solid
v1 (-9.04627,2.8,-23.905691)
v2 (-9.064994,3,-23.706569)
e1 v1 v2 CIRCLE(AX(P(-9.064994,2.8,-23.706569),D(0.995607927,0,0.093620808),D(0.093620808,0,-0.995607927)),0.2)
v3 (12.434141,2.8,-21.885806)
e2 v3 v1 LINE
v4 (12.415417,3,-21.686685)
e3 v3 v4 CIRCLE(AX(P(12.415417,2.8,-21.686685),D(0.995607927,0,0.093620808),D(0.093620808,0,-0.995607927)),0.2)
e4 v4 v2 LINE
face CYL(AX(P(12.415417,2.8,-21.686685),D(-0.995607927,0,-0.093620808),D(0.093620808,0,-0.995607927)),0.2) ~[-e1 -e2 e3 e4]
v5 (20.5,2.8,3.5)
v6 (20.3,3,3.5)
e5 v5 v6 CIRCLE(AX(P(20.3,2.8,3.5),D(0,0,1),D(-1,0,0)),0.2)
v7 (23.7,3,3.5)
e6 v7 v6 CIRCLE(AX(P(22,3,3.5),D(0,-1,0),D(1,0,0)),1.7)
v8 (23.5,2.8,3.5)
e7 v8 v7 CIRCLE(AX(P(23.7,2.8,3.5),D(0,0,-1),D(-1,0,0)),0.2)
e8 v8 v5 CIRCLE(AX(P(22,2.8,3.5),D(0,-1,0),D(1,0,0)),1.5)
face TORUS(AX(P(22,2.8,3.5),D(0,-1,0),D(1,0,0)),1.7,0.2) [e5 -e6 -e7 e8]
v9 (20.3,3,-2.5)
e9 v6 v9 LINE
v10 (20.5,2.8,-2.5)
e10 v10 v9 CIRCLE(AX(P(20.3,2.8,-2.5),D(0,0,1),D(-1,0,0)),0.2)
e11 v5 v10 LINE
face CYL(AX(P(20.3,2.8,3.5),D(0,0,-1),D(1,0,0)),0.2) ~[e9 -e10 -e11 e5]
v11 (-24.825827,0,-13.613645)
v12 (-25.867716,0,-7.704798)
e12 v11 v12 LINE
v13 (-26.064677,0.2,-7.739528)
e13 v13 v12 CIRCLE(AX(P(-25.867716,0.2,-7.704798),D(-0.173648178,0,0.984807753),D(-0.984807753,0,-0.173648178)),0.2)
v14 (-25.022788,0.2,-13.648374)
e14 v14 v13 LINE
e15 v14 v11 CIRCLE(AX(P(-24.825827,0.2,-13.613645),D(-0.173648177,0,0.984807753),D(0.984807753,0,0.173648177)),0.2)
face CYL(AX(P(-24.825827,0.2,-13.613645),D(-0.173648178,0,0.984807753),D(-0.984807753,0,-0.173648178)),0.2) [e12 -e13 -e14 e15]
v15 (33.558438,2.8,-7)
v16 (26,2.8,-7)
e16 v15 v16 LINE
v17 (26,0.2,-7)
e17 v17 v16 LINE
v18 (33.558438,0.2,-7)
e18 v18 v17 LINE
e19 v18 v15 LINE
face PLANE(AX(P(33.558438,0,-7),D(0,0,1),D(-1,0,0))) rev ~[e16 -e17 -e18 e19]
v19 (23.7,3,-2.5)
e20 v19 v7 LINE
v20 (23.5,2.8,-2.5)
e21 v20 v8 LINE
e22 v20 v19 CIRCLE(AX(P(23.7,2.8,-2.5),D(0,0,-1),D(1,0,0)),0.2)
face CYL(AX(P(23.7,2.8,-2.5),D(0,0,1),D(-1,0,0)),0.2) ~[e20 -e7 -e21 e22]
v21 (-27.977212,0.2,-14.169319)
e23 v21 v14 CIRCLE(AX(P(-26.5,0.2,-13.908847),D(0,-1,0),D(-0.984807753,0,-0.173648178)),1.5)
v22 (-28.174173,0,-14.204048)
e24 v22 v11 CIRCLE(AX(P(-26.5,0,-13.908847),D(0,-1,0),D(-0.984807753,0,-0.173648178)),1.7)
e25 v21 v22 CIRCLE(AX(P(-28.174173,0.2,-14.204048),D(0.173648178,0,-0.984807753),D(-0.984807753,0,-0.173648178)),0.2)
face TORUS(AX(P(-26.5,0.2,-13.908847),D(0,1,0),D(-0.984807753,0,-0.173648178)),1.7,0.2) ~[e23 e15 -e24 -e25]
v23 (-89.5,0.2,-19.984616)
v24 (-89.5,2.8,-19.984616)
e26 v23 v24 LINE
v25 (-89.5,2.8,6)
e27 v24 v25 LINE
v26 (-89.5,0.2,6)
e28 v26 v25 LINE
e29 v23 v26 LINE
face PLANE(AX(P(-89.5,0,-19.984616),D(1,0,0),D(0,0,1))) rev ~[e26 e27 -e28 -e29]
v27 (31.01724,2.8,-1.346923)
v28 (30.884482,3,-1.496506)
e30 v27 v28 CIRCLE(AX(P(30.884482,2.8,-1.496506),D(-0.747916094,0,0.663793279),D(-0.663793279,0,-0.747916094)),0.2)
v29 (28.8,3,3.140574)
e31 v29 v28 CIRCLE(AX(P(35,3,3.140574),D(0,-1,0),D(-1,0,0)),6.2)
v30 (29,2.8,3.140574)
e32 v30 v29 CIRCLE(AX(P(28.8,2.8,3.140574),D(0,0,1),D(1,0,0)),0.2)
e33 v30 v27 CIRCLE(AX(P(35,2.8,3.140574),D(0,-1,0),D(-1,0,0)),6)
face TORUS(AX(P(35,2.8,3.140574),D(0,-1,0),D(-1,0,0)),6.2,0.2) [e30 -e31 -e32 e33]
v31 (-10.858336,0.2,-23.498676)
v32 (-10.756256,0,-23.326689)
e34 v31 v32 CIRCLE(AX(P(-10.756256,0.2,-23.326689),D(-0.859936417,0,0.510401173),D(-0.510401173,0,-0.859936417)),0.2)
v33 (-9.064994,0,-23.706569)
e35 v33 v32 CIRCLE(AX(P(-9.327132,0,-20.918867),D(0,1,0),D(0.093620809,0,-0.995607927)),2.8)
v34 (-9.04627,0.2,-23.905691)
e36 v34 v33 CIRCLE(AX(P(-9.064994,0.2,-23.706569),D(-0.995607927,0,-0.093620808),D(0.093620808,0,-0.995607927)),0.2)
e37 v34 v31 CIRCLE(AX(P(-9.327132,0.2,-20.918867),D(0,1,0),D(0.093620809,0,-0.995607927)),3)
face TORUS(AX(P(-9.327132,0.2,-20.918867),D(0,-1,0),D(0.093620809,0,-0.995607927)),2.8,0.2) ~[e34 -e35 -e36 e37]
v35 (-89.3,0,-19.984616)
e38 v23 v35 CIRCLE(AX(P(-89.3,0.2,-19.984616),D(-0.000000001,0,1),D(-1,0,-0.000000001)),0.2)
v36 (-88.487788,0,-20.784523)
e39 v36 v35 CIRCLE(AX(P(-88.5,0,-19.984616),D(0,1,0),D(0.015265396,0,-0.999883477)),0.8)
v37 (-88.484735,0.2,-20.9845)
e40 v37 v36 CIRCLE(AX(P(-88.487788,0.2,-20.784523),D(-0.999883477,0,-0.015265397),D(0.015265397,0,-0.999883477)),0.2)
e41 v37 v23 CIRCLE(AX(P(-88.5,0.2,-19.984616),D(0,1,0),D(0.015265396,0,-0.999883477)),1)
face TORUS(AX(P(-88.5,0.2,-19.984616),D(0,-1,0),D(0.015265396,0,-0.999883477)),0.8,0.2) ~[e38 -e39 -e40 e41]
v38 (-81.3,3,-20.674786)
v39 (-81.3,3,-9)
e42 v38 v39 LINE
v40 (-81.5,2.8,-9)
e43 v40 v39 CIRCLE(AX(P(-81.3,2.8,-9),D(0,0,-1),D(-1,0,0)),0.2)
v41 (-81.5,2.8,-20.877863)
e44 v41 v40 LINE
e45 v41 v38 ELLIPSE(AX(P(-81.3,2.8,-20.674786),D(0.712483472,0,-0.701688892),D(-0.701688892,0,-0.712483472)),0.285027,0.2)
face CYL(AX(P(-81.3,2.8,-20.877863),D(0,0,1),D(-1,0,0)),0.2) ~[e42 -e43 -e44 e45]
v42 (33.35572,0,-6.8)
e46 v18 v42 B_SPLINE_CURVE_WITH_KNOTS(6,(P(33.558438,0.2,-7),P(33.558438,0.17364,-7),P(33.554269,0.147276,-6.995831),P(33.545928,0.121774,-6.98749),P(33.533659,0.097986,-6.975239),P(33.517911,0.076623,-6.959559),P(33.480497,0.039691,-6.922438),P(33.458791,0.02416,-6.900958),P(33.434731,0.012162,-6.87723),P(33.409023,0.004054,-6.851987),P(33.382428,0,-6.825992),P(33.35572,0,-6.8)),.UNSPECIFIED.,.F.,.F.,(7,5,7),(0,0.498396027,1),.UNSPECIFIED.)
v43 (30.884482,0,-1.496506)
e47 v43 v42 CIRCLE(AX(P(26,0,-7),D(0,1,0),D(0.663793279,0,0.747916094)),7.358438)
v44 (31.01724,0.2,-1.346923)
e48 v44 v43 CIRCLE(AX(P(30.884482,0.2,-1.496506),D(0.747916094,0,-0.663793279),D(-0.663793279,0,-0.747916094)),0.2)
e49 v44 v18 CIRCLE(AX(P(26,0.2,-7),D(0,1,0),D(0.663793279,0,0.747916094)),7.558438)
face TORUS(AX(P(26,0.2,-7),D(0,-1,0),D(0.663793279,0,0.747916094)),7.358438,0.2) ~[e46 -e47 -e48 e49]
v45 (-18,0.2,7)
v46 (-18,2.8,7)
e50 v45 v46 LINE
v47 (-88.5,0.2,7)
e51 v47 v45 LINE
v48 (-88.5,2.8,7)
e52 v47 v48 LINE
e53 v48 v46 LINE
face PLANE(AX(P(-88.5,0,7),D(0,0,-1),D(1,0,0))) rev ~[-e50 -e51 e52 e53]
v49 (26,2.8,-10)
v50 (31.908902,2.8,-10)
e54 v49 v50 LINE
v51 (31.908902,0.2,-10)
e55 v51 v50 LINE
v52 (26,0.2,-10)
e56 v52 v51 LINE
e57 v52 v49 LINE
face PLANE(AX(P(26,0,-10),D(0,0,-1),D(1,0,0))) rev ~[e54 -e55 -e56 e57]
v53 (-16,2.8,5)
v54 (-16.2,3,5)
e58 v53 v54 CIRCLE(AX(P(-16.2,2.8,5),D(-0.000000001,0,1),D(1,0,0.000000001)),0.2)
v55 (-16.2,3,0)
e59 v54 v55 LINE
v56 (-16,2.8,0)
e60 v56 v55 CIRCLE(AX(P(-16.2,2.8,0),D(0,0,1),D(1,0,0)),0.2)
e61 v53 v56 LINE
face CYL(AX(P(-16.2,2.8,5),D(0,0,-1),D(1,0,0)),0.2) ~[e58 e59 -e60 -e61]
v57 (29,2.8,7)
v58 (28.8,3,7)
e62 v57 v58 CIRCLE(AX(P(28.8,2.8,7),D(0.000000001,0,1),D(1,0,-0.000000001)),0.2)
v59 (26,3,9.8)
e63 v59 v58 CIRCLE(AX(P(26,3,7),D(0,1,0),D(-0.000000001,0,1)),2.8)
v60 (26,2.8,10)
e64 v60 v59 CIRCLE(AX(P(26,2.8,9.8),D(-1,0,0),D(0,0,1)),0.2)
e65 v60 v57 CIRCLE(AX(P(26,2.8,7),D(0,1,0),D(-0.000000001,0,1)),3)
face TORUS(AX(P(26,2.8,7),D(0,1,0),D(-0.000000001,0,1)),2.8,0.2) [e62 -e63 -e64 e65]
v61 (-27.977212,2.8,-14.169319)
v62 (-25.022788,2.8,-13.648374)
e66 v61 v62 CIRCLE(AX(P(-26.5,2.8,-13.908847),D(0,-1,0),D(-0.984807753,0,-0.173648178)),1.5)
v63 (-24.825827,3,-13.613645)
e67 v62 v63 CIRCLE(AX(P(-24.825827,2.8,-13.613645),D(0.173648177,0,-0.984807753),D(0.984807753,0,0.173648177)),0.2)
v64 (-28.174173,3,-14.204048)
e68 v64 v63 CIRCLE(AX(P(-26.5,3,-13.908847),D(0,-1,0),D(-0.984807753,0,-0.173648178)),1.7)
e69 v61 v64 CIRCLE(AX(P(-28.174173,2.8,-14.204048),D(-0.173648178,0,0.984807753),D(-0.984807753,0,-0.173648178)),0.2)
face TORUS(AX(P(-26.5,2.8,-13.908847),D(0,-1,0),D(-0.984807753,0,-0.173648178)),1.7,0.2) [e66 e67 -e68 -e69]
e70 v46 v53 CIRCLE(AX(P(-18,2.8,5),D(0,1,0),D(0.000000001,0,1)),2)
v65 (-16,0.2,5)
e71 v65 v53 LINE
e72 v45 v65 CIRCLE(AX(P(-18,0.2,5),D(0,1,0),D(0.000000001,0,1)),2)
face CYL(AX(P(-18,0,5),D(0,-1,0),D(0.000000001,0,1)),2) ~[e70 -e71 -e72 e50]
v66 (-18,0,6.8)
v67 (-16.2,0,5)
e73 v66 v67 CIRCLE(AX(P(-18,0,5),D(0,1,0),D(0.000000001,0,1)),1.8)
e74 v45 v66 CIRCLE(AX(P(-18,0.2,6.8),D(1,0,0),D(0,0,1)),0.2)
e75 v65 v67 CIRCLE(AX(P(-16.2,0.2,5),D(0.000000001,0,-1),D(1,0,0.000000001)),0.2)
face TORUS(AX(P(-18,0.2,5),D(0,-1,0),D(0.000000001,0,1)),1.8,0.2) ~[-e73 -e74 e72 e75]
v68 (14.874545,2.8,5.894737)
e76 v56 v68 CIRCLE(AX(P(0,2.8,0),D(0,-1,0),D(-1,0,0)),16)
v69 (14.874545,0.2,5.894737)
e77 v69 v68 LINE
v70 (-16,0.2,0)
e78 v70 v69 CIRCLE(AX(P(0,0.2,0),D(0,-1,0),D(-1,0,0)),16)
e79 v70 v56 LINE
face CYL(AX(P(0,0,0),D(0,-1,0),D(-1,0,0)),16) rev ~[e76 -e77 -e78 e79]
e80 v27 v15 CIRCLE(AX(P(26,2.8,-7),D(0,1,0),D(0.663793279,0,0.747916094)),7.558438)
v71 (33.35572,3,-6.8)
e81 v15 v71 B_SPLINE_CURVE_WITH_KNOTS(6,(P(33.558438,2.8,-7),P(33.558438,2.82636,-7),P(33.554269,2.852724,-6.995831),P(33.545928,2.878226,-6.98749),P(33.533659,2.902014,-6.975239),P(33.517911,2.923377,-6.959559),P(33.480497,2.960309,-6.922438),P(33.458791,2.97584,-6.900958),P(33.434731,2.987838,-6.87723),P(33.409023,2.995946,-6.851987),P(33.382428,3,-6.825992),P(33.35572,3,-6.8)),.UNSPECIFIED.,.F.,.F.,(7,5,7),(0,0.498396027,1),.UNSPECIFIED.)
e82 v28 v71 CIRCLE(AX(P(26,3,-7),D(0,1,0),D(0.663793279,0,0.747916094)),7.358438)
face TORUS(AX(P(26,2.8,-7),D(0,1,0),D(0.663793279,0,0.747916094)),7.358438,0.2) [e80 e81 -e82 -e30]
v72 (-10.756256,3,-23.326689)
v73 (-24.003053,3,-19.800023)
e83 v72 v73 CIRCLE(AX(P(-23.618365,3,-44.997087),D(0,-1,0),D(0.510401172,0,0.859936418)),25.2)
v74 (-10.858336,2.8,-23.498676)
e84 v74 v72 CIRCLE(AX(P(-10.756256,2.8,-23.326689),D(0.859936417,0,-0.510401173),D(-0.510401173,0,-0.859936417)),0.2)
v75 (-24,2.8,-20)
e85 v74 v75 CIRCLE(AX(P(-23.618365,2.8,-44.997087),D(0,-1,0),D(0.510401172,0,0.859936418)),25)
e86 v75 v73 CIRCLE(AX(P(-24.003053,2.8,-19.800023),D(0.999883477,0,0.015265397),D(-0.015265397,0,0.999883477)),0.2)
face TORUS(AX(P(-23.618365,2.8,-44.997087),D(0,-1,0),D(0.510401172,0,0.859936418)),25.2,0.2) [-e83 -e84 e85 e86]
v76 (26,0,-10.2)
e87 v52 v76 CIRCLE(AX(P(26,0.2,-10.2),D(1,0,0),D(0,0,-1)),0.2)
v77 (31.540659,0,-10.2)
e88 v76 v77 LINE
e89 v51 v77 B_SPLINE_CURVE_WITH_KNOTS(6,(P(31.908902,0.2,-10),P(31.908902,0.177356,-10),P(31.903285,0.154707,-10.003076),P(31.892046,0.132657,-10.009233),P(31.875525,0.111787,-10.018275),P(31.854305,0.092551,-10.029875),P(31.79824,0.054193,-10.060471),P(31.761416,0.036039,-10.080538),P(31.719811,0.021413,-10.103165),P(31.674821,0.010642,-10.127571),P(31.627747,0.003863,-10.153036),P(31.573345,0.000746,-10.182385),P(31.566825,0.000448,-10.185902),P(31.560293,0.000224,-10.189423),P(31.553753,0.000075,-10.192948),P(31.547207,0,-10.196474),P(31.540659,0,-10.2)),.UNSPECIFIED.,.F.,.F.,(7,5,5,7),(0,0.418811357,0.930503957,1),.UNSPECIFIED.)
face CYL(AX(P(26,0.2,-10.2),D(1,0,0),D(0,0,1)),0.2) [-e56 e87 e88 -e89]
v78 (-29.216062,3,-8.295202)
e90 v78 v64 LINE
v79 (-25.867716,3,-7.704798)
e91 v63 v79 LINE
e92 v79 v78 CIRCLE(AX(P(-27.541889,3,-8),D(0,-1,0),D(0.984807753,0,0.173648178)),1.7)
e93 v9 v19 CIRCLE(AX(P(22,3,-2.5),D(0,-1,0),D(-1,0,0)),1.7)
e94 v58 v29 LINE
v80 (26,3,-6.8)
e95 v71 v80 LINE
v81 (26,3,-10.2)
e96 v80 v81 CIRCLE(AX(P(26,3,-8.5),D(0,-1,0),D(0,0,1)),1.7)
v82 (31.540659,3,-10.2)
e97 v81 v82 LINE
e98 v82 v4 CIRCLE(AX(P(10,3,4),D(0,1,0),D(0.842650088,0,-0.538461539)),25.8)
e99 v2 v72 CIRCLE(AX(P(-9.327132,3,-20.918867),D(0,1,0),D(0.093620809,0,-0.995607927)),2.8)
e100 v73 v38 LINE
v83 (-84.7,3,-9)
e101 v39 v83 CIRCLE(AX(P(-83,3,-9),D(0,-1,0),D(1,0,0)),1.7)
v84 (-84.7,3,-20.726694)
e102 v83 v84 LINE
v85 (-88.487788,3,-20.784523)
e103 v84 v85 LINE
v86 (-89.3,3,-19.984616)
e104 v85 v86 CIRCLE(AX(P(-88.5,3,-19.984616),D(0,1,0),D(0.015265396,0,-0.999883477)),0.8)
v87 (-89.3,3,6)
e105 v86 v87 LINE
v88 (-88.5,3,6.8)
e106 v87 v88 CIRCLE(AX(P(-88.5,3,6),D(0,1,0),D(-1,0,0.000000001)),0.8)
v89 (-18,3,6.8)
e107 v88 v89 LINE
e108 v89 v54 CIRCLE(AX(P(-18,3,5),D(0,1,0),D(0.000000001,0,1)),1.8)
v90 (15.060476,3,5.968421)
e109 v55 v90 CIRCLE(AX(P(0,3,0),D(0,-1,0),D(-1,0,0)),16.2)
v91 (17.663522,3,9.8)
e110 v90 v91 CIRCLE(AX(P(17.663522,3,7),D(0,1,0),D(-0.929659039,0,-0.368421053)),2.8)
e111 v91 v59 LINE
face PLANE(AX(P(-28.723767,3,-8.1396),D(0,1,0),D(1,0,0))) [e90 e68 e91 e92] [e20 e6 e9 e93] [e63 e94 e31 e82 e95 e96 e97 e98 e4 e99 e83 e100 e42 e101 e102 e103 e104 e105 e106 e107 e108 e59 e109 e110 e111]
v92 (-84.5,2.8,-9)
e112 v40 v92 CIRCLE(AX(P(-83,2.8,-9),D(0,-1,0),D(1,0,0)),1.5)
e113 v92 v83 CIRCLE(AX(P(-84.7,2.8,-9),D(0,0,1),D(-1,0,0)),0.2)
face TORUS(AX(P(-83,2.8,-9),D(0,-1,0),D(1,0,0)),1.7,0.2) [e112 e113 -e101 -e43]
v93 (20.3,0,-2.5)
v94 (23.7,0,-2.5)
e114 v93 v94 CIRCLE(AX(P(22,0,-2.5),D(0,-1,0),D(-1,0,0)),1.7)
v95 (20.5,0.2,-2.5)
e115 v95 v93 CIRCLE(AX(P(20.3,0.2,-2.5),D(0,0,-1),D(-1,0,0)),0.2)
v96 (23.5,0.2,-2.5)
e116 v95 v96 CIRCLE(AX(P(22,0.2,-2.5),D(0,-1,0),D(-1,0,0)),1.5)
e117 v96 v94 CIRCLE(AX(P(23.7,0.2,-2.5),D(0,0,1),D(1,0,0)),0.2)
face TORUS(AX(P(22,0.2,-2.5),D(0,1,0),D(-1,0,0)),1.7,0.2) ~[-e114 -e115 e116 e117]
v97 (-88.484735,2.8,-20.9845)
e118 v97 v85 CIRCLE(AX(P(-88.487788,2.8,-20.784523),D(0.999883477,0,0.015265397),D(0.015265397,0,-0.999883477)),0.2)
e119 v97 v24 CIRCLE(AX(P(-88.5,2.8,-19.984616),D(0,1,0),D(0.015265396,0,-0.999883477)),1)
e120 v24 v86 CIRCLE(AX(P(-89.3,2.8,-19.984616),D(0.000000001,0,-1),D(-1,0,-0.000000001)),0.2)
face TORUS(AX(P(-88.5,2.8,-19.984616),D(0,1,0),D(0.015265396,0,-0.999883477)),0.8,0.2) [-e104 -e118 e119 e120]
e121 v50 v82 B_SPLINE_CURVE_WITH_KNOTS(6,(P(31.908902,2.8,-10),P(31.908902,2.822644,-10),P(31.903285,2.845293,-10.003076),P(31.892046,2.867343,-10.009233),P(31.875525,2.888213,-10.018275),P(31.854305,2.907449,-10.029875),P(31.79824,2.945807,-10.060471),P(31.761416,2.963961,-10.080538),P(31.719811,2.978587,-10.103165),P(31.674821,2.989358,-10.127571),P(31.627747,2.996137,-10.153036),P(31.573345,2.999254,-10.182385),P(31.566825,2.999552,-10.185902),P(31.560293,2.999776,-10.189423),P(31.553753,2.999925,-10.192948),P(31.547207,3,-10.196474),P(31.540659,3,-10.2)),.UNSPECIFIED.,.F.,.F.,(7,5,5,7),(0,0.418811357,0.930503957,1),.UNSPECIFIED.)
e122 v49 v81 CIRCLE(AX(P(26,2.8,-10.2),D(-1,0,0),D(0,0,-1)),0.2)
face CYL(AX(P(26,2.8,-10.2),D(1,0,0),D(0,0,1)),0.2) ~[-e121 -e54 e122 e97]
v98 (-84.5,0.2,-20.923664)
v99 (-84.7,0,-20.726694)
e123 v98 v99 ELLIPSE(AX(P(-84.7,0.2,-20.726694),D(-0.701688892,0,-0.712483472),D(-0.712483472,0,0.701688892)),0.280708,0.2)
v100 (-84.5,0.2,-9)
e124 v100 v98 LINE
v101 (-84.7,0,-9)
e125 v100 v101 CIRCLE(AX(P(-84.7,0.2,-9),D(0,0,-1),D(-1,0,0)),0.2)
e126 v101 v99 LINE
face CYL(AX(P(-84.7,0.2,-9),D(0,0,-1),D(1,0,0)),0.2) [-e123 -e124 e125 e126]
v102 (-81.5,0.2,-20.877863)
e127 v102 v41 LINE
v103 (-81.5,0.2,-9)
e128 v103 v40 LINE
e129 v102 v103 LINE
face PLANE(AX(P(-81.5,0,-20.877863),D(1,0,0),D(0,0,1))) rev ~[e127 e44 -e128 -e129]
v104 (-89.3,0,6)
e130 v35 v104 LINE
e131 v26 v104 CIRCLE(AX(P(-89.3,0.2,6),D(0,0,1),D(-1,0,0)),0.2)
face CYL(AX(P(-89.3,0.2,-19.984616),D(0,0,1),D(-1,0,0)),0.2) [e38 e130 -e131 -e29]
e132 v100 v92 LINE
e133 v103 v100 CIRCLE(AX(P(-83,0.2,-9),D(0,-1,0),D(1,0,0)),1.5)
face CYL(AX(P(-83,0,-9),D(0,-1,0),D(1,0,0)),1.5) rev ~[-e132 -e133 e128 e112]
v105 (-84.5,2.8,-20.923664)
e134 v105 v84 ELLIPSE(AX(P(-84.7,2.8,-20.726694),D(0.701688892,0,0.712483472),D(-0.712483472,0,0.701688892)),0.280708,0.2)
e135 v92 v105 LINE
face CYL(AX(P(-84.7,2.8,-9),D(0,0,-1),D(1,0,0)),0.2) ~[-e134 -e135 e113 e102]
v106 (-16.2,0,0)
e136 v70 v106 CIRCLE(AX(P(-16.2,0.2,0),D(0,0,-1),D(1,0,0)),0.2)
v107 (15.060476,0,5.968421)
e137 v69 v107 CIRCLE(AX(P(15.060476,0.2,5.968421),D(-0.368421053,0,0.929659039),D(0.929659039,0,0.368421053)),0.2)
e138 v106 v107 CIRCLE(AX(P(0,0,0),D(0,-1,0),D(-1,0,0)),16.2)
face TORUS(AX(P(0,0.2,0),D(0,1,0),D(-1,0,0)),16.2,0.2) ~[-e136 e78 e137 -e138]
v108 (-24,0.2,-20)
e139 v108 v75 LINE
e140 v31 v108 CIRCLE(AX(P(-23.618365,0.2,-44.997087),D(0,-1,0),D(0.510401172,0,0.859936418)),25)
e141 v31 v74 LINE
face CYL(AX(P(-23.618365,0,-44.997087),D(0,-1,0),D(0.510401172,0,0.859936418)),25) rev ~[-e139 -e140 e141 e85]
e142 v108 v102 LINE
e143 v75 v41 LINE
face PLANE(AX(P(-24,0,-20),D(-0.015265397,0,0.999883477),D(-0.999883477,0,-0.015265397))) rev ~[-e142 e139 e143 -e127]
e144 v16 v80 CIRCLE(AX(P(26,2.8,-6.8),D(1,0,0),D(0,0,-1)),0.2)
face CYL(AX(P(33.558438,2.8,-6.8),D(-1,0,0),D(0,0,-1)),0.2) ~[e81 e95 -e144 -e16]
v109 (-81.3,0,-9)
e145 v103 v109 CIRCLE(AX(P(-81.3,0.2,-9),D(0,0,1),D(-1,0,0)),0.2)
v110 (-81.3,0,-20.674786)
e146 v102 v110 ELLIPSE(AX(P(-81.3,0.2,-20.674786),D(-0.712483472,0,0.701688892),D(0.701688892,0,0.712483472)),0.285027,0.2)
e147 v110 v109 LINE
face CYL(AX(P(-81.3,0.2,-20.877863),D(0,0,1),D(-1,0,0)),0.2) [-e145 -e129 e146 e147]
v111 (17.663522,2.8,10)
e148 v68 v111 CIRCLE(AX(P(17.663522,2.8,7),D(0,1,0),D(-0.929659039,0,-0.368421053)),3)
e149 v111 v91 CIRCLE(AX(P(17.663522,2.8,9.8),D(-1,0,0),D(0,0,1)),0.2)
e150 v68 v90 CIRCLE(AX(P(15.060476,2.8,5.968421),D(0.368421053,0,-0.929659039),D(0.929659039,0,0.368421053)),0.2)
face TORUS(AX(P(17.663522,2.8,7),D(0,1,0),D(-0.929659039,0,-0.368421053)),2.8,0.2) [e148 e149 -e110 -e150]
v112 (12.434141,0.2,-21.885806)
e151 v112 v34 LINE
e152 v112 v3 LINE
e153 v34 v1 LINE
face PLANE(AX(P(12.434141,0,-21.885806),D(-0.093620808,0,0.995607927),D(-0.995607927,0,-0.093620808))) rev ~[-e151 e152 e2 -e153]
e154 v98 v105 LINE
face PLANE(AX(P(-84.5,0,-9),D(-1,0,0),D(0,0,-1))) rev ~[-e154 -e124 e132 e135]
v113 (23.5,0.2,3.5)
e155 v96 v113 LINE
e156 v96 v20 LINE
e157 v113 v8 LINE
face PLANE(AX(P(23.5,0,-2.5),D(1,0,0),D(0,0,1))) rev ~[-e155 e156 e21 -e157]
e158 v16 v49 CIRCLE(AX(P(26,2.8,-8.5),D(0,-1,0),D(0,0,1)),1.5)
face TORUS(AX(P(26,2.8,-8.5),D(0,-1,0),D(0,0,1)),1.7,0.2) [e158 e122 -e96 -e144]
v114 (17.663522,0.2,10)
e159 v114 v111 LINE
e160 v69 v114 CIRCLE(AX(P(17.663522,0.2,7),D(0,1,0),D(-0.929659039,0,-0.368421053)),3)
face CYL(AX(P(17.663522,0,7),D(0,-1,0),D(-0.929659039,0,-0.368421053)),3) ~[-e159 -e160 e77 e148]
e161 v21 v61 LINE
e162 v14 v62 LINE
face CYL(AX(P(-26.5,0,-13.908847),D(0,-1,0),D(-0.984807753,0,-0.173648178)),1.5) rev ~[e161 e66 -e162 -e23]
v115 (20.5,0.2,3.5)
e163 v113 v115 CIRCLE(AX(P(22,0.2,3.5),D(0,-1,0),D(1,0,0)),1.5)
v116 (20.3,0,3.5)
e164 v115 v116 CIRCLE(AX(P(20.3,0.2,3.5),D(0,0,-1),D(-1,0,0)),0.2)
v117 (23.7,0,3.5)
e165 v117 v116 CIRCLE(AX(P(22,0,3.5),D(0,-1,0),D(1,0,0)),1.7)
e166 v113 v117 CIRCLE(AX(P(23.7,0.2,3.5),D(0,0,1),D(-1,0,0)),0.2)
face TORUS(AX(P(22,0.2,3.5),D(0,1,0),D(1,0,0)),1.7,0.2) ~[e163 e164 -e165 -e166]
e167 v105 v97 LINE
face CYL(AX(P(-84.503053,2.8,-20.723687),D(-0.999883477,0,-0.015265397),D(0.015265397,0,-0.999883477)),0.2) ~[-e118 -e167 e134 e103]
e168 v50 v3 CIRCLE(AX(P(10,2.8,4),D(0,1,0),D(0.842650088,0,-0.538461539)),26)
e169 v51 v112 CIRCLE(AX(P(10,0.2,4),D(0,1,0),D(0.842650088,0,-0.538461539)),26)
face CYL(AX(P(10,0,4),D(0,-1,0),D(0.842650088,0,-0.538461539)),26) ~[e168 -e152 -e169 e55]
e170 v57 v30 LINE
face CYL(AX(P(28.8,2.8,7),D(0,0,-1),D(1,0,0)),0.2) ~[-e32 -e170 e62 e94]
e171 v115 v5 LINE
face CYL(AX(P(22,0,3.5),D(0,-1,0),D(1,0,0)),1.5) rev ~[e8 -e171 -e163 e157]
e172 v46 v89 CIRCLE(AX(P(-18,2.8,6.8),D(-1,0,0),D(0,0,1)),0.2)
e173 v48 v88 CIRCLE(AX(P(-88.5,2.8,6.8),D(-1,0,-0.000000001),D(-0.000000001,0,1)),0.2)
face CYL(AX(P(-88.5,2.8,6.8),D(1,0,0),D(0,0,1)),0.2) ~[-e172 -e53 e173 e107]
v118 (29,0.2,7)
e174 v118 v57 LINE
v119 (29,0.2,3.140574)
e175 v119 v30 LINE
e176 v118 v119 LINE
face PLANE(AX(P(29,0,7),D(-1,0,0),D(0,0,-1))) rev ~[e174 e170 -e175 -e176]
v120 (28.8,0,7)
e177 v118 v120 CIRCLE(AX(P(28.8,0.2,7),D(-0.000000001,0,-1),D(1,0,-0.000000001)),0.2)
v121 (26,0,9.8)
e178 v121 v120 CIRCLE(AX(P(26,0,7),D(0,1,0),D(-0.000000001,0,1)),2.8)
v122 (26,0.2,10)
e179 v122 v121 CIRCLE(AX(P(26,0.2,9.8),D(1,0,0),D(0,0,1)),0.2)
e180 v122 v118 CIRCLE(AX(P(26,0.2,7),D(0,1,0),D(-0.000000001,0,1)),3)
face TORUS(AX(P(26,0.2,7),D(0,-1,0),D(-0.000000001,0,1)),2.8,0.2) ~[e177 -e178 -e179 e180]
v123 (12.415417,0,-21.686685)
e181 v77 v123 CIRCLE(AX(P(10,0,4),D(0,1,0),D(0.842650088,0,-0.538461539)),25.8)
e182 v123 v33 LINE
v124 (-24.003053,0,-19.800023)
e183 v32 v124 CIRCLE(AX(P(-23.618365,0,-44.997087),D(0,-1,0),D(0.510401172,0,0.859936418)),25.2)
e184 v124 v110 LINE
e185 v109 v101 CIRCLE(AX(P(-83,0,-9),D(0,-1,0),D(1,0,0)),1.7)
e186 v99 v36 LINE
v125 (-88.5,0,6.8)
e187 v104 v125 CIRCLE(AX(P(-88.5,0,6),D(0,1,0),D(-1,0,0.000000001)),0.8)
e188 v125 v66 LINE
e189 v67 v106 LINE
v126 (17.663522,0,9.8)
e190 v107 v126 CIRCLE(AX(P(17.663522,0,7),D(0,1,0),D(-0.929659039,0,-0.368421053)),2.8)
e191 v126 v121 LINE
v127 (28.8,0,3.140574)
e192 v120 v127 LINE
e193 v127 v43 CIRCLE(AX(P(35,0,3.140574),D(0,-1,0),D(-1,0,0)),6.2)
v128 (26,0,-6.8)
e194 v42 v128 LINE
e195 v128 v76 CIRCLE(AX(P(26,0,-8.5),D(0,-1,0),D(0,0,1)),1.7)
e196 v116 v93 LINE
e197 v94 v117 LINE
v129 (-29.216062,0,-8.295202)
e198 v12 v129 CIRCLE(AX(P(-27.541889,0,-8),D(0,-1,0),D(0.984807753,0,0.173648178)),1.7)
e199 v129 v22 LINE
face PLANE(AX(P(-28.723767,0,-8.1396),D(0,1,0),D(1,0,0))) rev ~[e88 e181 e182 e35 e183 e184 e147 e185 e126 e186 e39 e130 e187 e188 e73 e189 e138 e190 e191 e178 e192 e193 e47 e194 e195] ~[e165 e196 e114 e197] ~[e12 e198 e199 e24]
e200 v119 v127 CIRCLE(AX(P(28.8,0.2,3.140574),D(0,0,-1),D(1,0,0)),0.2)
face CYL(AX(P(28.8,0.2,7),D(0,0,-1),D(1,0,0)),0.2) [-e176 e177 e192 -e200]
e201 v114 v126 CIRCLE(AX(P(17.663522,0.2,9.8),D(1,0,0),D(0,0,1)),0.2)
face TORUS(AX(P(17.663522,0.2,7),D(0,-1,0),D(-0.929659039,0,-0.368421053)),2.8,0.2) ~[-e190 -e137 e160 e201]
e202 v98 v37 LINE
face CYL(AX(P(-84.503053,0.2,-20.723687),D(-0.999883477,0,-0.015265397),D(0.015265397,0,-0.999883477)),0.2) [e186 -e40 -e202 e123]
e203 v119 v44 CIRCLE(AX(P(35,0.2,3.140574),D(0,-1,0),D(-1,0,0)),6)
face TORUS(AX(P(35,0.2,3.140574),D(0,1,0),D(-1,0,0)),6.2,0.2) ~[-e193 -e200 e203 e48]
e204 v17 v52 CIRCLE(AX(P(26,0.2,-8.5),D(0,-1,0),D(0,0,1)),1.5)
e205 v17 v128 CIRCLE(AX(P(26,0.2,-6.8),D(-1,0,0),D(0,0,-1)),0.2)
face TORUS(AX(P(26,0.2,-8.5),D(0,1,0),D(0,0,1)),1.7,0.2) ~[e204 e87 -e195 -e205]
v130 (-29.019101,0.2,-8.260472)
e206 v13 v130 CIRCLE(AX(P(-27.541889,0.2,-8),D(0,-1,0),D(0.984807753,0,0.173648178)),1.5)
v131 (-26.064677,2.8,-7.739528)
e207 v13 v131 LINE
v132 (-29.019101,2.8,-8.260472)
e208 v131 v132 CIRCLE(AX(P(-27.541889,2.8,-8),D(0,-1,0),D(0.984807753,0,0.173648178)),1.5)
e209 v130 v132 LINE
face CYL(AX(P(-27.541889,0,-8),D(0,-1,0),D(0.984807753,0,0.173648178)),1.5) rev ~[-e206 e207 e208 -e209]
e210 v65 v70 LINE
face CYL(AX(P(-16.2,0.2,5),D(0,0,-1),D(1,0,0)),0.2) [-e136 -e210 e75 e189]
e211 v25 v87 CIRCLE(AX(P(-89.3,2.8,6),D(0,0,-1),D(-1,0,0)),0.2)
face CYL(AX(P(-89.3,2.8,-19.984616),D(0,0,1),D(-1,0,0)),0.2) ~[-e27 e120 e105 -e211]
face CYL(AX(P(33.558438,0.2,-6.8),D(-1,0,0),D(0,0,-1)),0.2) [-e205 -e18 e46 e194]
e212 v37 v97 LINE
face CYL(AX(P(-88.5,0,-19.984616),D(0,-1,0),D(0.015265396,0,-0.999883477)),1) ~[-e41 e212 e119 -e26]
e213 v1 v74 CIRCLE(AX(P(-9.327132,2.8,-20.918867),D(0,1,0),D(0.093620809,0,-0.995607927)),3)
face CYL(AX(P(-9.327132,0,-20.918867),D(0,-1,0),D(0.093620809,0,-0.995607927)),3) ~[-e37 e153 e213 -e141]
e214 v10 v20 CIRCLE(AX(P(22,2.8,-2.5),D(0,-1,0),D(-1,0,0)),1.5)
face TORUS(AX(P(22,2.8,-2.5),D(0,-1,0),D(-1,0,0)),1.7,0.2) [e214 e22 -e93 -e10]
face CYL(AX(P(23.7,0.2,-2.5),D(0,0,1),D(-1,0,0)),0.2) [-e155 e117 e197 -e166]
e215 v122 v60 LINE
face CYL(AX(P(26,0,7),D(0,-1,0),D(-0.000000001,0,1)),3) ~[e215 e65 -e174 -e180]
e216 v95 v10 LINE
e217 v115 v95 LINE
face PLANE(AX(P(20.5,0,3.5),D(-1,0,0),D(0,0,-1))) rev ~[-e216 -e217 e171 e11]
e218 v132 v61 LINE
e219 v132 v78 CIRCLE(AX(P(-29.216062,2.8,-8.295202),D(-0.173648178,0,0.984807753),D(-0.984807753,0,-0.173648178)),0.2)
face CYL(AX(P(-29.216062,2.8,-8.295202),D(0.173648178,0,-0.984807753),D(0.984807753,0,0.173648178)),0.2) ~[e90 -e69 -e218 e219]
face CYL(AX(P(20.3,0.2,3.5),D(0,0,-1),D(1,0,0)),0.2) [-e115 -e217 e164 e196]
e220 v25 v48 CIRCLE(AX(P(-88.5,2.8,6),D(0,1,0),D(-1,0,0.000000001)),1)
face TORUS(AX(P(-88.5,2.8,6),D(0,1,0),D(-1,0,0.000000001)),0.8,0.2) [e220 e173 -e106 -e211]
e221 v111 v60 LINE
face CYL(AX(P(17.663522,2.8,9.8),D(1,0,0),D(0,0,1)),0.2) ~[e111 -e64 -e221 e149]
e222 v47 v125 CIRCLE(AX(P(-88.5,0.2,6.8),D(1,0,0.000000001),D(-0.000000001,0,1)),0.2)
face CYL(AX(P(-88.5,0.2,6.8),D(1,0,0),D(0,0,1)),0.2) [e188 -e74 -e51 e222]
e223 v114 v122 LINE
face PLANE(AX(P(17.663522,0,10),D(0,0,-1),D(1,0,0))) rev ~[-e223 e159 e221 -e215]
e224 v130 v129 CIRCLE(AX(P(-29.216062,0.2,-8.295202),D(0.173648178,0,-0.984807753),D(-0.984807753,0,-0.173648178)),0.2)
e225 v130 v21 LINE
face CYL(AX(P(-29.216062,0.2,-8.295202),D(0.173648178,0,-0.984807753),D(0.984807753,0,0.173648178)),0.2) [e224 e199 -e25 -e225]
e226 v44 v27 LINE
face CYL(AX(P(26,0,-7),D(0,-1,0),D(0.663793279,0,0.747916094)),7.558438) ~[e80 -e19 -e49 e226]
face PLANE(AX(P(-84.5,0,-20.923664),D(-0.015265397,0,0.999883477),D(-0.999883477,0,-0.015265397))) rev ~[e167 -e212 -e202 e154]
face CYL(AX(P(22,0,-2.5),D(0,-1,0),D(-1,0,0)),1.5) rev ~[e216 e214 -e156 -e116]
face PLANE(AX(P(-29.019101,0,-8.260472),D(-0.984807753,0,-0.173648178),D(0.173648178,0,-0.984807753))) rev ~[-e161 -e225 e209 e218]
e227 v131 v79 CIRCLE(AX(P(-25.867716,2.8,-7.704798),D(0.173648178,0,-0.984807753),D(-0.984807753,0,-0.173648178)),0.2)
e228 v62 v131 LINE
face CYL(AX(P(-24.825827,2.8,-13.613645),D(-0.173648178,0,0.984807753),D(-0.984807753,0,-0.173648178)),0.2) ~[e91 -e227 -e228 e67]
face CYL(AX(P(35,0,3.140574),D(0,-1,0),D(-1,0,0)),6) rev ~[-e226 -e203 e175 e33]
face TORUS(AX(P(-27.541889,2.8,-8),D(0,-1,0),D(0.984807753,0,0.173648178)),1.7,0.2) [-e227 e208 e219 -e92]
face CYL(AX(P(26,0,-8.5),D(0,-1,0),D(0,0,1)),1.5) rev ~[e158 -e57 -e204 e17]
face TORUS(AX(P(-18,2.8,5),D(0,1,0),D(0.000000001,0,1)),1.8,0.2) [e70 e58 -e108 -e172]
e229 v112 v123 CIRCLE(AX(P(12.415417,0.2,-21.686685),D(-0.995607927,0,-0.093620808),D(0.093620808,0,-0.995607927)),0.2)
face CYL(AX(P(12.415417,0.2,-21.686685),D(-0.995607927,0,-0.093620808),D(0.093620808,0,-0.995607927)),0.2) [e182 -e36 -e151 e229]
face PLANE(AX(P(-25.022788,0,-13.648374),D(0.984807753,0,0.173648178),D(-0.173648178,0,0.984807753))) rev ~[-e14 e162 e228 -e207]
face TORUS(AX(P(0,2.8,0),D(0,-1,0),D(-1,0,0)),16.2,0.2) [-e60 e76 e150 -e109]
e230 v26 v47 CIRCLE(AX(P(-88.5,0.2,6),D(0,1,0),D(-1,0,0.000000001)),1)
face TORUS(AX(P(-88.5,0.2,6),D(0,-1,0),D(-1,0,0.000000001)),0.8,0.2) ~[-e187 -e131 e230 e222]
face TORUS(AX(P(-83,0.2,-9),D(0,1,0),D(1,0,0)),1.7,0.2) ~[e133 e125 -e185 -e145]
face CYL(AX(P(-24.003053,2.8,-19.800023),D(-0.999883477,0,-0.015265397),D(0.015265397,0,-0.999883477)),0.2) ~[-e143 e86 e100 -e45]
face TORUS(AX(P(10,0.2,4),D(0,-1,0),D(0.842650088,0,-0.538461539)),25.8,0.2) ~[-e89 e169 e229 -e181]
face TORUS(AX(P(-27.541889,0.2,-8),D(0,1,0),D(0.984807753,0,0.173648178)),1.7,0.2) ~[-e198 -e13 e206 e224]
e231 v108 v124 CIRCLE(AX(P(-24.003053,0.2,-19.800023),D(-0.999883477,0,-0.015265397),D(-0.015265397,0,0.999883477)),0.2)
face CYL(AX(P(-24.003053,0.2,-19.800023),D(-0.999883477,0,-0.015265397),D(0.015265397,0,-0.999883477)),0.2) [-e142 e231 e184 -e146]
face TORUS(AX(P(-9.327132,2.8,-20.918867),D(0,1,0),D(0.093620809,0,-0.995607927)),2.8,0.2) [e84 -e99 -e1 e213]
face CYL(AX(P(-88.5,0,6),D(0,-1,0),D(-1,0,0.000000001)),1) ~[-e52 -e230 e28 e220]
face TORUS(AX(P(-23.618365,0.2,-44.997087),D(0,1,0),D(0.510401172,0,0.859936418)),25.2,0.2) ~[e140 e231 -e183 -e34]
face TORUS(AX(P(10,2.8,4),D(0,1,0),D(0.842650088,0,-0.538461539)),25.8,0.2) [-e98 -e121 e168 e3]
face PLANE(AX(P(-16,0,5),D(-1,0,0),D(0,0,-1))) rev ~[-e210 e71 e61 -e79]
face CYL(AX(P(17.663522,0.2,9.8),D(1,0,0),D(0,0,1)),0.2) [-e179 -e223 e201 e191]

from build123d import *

# Parameters (mm, degrees)
BOSS_EXTRUDE1_DEPTH = 3
FILLET1_R           = 0.2


with BuildPart() as part:
    # Sketch1 → Boss-Extrude1 (new body)
    with BuildSketch(Plane(origin=(0, 0, 0), x_dir=(1, 0, 0), z_dir=(0, 1, 0))):
        with BuildLine():
            Line((-24, 20), (-81.5, 20.877862595))
            Line((-81.5, 20.877862595), (-81.5, 9))
            ThreePointArc((-81.5, 9), (-83, 7.5), (-84.5, 9))
            Line((-84.5, 9), (-84.5, 20.923664122))
            Line((-84.5, 20.923664122), (-88.484734603, 20.984499765))
            ThreePointArc((-88.484734603, 20.984499765), (-89.201688892, 20.69709976), (-89.5, 19.984616288))
            Line((-89.5, 19.984616288), (-89.5, -6))
            ThreePointArc((-89.5, -6), (-89.207106781, -6.707106781), (-88.5, -7))
            Line((-88.5, -7), (-18, -7))
            ThreePointArc((-18, -7), (-16.585786438, -6.414213562), (-16, -5))
            Line((-16, -5), (-16, 0))
            ThreePointArc((-16, 0), (3.000607116, 15.716117744), (14.874544617, -5.894736842))
            ThreePointArc((14.874544617, -5.894736842), (15.182011157, -8.685854461), (17.663521733, -10))
            Line((17.663521733, -10), (26, -10))
            ThreePointArc((26, -10), (28.121320344, -9.121320344), (29, -7))
            Line((29, -7), (29, -3.140573969))
            ThreePointArc((29, -3.140573969), (29.52749792, -0.680549379), (31.017240328, 1.346922593))
            ThreePointArc((31.017240328, 1.346922593), (32.893927927, 3.901009452), (33.558437979, 7))
            Line((33.558437979, 7), (26, 7))
            ThreePointArc((26, 7), (24.5, 8.5), (26, 10))
            Line((26, 10), (31.9089023, 10))
            ThreePointArc((31.9089023, 10), (23.544889663, 18.193151286), (12.434141003, 21.885806103))
            Line((12.434141003, 21.885806103), (-9.046269836, 23.905690999))
            ThreePointArc((-9.046269836, 23.905690999), (-9.984592082, 23.84593855), (-10.858335776, 23.498676472))
            ThreePointArc((-10.858335776, 23.498676472), (-17.186697633, 20.838575925), (-24, 20))
        make_face()
        with BuildLine():
            Line((23.5, 2.5), (23.5, -3.5))
            ThreePointArc((23.5, -3.5), (22, -5), (20.5, -3.5))
            Line((20.5, -3.5), (20.5, 2.5))
            ThreePointArc((20.5, 2.5), (22, 4), (23.5, 2.5))
        make_face(mode=Mode.SUBTRACT)
        with BuildLine():
            Line((-25.02278837, 13.648374252), (-26.064677436, 7.739527733))
            ThreePointArc((-26.064677436, 7.739527733), (-27.802361333, 6.52278837), (-29.019100696, 8.260472267))
            Line((-29.019100696, 8.260472267), (-27.97721163, 14.169318785))
            ThreePointArc((-27.97721163, 14.169318785), (-26.239527733, 15.386058148), (-25.02278837, 13.648374252))
        make_face(mode=Mode.SUBTRACT)
    extrude(amount=BOSS_EXTRUDE1_DEPTH)

    # Fillet1
    fillet1_edges = [part.edges().sort_by_distance(p)[0] for p in [
        (21.831760866, 3, 10),
        (28.121320344, 3, 9.121320344),
        (29, 3, 5.070286985),
        (29.52749792, 3, 0.680549379),
        (-16, 0, 2.5),
        (-16.585786438, 0, 6.414213562),
        (32.893927927, 3, -3.901009452),
        (-53.25, 0, 7),
        (-89.207106781, 0, 6.707106781),
        (-89.5, 0, -6.992308144),
        (-89.201688892, 0, -20.69709976),
        (-86.492367302, 0, -20.954081944),
        (-84.5, 0, -14.961832061),
        (-83, 0, -7.5),
        (-81.5, 0, -14.938931298),
        (29.779218989, 3, -7),
        (-52.75, 0, -20.438931298),
        (-17.186697633, 0, -20.838575925),
        (-9.984592082, 0, -23.84593855),
        (1.693935584, 0, -22.895748551),
        (23.544889663, 0, -18.193151286),
        (28.95445115, 0, -10),
        (24.5, 0, -8.5),
        (24.5, 3, -8.5),
        (29.779218989, 0, -7),
        (32.893927927, 0, -3.901009452),
        (29.52749792, 0, 0.680549379),
        (29, 0, 5.070286985),
        (28.121320344, 0, 9.121320344),
        (21.831760866, 0, 10),
        (15.182011157, 0, 8.685854461),
        (3.000607116, 0, -15.716117744),
        (28.95445115, 3, -10),
        (23.544889663, 3, -18.193151286),
        (1.693935584, 3, -22.895748551),
        (3.000607116, 3, -15.716117744),
        (-9.984592082, 3, -23.84593855),
        (-17.186697633, 3, -20.838575925),
        (-52.75, 3, -20.438931298),
        (-81.5, 3, -14.938931298),
        (-83, 3, -7.5),
        (-84.5, 3, -14.961832061),
        (-86.492367302, 3, -20.954081944),
        (-89.201688892, 3, -20.69709976),
        (22, 0, -4),
        (20.5, 0, 0.5),
        (22, 0, 5),
        (23.5, 0, 0.5),
        (22, 3, -4),
        (20.5, 3, 0.5),
        (22, 3, 5),
        (23.5, 3, 0.5),
        (-89.5, 3, -6.992308144),
        (-89.207106781, 3, 6.707106781),
        (15.182011157, 3, 8.685854461),
        (-53.25, 3, 7),
        (-16.585786438, 3, 6.414213562),
        (-26.239527733, 0, -15.386058148),
        (-28.498156163, 0, -11.214895526),
        (-27.802361333, 0, -6.52278837),
        (-25.543732903, 0, -10.693950993),
        (-26.239527733, 3, -15.386058148),
        (-28.498156163, 3, -11.214895526),
        (-16, 3, 2.5),
        (-27.802361333, 3, -6.52278837),
        (-25.543732903, 3, -10.693950993),
    ]]
    fillet(fillet1_edges, radius=FILLET1_R)


solid = part.part
